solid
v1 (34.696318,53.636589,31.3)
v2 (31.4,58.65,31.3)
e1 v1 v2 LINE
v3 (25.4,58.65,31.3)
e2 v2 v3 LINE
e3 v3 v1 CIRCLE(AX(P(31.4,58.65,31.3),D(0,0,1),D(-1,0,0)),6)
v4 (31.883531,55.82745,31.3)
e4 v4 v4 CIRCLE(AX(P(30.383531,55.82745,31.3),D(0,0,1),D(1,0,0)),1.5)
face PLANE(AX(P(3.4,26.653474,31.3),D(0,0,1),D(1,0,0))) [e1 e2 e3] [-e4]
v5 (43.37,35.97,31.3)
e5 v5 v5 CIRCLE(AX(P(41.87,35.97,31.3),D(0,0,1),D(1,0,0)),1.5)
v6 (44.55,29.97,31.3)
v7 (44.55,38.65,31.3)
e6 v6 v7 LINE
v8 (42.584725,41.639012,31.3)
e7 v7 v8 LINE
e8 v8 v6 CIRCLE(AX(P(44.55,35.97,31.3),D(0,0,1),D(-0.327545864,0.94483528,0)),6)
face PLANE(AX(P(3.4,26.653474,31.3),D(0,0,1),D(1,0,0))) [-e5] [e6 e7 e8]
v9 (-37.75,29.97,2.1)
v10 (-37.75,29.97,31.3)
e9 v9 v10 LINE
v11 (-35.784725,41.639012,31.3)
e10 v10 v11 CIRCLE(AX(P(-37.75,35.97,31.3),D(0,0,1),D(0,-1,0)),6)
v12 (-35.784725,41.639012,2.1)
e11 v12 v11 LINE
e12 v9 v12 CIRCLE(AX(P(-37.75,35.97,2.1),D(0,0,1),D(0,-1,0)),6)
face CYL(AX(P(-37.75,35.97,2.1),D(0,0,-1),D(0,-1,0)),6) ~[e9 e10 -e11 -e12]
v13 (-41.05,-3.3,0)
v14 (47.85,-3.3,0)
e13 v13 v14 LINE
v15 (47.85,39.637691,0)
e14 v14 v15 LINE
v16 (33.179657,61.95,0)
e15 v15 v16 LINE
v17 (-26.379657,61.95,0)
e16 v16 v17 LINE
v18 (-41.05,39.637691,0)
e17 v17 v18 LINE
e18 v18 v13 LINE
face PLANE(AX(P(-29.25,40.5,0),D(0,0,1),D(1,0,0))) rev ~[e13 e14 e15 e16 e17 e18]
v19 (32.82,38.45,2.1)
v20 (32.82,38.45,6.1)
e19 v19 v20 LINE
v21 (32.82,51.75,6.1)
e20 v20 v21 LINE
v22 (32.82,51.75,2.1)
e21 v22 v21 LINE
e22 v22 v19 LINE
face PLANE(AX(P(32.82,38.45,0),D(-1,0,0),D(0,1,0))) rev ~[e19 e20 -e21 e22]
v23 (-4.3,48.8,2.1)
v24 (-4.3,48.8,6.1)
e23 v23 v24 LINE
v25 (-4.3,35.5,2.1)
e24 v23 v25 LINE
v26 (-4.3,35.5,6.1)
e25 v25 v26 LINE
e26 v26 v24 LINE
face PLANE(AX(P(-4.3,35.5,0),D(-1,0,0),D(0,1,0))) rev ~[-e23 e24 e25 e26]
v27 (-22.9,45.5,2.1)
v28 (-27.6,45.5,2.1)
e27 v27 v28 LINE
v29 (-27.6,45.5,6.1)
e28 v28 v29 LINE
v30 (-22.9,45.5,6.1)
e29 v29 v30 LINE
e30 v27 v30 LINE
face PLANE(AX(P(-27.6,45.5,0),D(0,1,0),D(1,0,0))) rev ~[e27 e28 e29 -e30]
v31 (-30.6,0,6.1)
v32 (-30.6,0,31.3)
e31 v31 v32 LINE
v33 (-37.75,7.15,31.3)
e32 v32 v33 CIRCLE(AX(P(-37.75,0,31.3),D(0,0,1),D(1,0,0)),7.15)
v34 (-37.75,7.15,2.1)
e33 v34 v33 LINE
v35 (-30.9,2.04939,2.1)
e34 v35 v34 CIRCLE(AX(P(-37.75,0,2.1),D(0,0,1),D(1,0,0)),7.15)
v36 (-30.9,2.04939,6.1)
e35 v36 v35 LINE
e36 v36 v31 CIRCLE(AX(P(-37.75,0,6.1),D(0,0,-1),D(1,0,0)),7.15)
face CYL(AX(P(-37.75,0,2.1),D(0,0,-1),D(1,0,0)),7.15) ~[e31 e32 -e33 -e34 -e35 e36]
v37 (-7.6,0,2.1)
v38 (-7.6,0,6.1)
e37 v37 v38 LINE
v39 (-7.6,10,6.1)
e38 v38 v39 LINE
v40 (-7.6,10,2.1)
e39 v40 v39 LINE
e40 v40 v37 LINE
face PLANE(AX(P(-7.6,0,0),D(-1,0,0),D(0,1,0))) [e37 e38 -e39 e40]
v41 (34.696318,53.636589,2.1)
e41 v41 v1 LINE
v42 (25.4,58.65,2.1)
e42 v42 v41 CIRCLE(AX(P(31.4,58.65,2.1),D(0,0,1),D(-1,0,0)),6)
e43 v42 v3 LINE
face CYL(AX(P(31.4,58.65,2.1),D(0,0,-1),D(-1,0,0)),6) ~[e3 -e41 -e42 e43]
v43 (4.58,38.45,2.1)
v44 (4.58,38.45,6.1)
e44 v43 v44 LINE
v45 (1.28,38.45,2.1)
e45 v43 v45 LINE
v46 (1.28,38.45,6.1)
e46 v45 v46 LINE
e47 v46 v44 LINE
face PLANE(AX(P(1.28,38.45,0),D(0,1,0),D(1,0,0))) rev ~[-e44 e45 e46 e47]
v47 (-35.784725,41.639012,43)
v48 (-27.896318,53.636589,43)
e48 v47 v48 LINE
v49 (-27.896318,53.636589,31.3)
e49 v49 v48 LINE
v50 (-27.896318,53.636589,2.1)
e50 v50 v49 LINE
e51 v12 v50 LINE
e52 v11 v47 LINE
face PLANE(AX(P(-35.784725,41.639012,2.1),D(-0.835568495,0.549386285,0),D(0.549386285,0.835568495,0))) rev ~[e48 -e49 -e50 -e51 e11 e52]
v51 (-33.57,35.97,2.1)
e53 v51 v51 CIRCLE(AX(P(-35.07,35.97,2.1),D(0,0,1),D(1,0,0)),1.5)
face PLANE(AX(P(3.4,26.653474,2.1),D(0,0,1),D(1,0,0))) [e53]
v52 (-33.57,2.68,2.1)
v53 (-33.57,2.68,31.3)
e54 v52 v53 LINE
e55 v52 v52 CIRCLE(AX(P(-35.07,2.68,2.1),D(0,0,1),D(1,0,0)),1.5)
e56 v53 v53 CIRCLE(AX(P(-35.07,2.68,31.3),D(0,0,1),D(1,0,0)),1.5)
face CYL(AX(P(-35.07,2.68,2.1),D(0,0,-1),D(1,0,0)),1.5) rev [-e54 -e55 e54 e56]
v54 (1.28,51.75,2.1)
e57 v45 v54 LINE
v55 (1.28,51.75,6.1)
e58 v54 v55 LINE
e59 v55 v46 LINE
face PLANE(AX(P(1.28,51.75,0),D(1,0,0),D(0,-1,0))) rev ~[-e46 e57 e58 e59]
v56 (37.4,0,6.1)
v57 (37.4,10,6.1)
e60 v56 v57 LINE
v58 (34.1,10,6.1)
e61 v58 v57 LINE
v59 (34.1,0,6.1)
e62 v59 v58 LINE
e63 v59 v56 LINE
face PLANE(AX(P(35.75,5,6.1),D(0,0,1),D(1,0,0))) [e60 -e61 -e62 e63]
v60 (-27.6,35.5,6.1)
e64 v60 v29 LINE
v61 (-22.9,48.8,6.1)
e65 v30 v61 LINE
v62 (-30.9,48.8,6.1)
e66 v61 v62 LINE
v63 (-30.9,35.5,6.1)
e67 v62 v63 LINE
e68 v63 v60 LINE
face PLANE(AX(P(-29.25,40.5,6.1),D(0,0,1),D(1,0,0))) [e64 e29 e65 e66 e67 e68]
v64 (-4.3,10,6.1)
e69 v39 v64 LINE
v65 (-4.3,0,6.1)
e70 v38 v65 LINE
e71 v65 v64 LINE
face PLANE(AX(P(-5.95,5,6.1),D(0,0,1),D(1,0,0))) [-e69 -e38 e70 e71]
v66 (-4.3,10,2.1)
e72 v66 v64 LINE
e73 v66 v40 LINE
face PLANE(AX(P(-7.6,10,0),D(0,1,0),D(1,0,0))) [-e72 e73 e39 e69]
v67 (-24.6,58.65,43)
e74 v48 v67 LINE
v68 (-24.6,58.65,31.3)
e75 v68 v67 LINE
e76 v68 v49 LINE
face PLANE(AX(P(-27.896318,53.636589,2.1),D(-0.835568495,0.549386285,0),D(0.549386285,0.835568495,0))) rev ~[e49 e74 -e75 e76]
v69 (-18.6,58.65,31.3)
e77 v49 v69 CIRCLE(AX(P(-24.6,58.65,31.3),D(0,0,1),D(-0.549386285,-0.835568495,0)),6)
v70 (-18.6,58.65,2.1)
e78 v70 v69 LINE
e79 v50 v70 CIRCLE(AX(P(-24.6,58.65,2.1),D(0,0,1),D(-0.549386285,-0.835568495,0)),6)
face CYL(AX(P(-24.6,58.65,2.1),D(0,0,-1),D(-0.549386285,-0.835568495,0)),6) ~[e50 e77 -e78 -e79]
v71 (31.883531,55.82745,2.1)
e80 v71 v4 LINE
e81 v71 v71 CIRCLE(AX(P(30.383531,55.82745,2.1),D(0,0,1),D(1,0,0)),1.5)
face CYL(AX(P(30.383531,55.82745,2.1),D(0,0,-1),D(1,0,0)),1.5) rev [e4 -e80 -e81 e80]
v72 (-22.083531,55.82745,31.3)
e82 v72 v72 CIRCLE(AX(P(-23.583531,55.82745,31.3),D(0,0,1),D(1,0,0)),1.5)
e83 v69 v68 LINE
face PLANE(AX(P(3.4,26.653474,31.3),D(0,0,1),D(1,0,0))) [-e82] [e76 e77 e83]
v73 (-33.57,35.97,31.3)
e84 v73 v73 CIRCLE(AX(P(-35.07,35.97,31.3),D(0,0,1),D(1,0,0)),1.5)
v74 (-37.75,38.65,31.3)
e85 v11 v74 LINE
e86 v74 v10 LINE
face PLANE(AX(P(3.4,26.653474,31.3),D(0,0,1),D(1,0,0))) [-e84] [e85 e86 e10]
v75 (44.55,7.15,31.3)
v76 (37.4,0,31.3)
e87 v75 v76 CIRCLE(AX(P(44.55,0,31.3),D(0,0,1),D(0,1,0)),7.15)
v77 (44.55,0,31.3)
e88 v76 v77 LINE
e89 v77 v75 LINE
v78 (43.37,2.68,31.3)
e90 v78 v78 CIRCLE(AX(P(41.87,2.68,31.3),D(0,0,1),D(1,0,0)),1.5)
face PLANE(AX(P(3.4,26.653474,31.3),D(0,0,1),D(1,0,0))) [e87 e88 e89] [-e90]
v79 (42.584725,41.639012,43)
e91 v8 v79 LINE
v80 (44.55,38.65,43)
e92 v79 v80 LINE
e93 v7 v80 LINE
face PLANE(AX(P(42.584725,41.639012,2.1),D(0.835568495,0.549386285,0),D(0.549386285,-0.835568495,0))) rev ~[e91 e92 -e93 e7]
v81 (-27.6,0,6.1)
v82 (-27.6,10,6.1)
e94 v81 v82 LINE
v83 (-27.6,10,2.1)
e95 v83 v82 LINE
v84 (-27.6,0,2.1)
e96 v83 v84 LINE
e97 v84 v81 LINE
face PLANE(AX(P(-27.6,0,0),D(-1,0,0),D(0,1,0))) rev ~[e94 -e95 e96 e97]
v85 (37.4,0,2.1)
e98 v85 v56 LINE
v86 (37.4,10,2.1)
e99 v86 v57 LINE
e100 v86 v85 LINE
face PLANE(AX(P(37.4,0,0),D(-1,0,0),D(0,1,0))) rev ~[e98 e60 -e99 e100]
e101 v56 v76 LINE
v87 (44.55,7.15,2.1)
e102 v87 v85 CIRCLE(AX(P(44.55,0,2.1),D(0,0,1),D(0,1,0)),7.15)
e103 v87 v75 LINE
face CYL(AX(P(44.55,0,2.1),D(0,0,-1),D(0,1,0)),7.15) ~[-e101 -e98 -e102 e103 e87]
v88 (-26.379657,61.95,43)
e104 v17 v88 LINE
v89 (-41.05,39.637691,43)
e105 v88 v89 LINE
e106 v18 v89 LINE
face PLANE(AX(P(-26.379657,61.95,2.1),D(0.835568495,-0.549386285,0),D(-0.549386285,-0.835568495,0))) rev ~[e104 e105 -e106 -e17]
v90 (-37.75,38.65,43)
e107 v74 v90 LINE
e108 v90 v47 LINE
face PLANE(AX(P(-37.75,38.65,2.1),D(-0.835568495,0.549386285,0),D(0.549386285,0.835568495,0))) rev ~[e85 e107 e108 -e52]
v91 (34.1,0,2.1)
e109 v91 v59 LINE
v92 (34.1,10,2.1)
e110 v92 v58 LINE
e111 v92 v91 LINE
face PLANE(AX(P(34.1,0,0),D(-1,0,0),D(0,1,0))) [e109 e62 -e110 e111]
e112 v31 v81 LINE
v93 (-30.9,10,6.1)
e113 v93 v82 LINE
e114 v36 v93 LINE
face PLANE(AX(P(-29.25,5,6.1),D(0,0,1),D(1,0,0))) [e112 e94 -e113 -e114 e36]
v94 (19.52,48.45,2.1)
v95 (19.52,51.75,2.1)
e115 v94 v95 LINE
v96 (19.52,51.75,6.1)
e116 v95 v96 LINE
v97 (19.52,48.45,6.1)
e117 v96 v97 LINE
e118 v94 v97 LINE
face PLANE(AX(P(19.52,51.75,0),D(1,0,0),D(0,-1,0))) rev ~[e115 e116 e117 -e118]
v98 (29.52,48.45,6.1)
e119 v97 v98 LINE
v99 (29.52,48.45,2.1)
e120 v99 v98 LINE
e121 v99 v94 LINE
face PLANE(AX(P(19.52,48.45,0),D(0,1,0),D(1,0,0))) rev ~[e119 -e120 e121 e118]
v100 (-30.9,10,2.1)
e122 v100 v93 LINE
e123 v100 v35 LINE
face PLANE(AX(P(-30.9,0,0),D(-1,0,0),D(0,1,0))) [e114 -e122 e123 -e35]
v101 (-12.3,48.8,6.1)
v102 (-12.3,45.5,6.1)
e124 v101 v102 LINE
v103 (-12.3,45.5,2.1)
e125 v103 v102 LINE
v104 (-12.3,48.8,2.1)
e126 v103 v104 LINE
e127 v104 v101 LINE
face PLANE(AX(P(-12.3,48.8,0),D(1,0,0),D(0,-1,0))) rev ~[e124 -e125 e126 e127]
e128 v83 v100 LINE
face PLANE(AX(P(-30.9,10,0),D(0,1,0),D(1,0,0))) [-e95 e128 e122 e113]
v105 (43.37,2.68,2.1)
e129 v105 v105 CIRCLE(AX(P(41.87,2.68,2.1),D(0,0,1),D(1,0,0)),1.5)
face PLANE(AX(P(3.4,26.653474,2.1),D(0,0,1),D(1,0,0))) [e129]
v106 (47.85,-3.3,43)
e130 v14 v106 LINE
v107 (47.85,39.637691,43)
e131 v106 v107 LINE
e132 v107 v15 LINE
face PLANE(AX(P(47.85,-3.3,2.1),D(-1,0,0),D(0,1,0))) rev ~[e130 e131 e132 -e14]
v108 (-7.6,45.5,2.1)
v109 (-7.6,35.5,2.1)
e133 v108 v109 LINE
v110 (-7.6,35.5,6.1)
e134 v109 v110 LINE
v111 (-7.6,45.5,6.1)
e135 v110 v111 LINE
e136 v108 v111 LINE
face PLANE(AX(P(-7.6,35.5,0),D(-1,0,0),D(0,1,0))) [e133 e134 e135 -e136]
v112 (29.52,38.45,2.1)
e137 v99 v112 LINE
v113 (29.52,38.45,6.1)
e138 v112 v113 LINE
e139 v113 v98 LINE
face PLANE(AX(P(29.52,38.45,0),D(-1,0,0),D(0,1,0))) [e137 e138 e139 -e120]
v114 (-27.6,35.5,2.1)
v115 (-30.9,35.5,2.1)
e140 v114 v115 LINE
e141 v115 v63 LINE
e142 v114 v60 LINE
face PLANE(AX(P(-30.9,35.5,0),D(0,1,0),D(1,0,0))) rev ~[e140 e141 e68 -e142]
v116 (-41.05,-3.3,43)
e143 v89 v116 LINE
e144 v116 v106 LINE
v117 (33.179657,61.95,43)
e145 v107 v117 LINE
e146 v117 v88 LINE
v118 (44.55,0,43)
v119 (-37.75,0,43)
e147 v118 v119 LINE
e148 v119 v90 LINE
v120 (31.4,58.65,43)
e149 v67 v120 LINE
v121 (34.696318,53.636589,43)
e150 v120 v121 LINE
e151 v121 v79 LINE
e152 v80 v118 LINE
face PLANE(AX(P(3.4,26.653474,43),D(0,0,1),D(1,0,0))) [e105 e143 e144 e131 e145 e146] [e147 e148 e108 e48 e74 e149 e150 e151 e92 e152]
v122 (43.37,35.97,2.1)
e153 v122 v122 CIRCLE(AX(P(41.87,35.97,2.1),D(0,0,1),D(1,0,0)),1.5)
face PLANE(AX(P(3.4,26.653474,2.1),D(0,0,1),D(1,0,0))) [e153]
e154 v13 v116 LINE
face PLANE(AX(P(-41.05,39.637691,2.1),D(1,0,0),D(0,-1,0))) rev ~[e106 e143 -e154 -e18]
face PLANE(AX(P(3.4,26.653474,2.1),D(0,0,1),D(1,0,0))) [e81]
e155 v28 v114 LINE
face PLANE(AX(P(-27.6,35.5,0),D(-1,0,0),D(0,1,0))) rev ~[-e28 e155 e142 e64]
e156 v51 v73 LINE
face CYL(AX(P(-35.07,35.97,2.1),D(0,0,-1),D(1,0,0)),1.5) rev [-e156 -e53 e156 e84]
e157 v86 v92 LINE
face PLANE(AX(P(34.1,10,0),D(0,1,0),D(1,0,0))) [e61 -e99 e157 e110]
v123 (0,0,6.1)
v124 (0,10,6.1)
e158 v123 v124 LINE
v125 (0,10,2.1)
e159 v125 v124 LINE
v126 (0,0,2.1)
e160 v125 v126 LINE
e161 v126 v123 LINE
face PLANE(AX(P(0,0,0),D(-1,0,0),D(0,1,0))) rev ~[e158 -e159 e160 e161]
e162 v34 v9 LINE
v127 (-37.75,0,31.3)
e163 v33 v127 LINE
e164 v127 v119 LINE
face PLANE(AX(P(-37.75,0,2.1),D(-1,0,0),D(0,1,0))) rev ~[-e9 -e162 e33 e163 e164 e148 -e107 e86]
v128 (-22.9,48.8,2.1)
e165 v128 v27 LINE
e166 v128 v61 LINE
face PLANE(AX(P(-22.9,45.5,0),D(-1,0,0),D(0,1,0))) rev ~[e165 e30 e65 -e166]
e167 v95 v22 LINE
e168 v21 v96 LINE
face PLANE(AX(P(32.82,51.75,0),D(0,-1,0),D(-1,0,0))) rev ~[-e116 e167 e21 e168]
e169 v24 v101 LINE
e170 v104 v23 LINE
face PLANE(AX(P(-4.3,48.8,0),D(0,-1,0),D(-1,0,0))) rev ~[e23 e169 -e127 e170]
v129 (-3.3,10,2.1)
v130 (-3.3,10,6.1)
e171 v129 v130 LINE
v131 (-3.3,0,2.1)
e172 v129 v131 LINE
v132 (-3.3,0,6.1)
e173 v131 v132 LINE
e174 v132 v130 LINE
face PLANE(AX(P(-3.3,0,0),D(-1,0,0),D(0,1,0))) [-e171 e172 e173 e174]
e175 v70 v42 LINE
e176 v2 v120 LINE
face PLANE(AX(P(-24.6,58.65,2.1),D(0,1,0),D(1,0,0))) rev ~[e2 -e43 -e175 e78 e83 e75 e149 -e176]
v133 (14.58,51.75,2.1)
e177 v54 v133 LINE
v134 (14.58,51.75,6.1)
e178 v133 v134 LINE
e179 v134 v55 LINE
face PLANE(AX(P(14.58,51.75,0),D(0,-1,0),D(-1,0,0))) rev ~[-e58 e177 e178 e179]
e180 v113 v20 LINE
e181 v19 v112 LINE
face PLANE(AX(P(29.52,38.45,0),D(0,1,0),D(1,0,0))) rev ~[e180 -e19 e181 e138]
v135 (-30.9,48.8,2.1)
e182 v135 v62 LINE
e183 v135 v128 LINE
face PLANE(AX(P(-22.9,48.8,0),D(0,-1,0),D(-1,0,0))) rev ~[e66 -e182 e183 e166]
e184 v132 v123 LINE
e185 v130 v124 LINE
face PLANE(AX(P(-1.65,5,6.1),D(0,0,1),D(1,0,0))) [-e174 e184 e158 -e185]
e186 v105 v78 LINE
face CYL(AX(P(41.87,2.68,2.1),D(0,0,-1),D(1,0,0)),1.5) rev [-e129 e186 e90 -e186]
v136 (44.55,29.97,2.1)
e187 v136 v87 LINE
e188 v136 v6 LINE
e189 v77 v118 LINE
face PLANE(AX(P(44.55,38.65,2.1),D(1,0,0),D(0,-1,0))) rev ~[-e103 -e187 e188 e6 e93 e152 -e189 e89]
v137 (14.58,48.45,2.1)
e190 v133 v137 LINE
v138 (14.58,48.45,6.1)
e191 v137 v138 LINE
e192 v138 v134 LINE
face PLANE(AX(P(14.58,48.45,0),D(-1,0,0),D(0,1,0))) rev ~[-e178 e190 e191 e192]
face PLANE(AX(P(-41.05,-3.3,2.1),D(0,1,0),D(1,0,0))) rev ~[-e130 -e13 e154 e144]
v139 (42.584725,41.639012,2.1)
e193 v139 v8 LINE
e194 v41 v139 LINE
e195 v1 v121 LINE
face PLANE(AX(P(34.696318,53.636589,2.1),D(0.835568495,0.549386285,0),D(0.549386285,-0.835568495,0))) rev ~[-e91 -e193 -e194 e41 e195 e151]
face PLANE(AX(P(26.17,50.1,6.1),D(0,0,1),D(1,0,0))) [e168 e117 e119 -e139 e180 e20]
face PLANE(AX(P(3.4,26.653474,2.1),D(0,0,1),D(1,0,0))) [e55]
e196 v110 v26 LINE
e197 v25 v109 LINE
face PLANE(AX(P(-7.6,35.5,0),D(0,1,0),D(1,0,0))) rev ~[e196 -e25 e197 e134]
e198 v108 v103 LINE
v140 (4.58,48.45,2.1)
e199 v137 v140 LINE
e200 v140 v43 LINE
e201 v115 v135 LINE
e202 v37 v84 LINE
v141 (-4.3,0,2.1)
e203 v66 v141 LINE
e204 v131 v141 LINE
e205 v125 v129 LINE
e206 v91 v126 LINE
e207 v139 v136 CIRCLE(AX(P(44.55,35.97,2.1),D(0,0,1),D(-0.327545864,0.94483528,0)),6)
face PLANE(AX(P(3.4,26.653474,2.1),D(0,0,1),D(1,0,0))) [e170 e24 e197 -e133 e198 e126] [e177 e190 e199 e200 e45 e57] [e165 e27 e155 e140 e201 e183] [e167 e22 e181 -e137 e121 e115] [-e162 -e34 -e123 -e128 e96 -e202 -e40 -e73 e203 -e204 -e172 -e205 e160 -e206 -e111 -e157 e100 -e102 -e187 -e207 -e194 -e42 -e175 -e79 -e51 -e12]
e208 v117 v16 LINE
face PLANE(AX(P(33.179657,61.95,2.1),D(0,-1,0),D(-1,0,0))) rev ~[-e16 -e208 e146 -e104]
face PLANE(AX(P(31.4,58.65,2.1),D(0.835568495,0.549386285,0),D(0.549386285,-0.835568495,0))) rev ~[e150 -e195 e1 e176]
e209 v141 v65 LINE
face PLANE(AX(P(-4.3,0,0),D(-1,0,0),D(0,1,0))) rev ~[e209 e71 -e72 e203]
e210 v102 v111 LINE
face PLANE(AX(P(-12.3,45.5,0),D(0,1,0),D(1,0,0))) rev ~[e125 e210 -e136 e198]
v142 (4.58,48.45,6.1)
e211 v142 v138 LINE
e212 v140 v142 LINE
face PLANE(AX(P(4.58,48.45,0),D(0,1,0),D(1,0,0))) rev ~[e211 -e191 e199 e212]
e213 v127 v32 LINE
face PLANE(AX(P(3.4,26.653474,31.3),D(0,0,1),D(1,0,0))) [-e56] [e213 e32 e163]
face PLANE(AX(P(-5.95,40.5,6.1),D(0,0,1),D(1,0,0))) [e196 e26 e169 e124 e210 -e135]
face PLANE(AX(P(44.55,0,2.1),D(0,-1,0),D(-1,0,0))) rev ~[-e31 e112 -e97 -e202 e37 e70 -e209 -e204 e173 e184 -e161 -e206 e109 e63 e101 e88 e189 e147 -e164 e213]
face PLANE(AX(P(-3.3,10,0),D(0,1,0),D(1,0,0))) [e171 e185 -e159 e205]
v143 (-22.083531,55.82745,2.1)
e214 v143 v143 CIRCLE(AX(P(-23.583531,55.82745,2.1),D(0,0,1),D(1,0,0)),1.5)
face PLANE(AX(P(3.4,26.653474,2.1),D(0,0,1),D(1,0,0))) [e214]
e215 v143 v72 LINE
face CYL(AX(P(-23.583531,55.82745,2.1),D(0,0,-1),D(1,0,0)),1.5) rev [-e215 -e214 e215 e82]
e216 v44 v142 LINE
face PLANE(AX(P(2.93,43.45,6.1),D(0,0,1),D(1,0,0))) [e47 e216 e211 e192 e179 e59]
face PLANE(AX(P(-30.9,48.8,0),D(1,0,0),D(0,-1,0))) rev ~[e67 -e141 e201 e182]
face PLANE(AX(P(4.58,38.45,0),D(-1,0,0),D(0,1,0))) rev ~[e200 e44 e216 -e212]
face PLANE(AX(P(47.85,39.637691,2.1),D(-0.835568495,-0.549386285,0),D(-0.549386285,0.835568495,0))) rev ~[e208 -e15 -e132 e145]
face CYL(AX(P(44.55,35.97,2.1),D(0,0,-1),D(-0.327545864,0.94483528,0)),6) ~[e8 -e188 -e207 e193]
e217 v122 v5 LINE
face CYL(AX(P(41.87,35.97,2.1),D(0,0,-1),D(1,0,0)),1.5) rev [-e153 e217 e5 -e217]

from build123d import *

# Parameters (mm, degrees)
F6_R      = 1.5
F7_DEPTH  = 29.2
F4_R      = 1.5
F8_DEPTH  = 2.1
F1_W      = 3.3
F1_H      = 10
F0_W      = 3.3
F0_H      = 10
F9_DEPTH  = 6.1
F10_DEPTH = 40.9


with BuildPart() as f7:
    # F6 (on offset) → F7 (new body)
    with BuildSketch(Plane.XY.offset(2.1)):
        Polygon((33.1796569254, 61.95), (2.5, 61.95), (-26.3796569254, 61.95), (-41.05, 39.6376911413), (-41.05, -3.3), (47.85, -3.3), (47.85, 39.6376911413), align=None)
        Polygon((44.55, 29.97), (44.55, 7.15), (44.55, 0), (37.4, 0), (-30.6, 0), (-37.75, 0), (-37.75, 7.15), (-37.75, 29.97), (-37.75, 38.65), (-35.7847248185, 41.6390116829), (-27.896317712, 53.6365890312), (-24.6, 58.65), (-18.6, 58.65), (3.4, 58.65), (25.4, 58.65), (31.4, 58.65), (34.696317712, 53.6365890312), (42.5847248185, 41.6390116829), (44.55, 38.65), (44.55, 36.9490727423), align=None, mode=Mode.SUBTRACT)
        with BuildLine():
            ThreePointArc((42.5847248185, 41.6390116829), (38.6333256766, 34.9735237327), (44.55, 29.97))
            Line((44.55, 29.97), (44.55, 36.9490727423))
            Line((44.55, 36.9490727423), (44.55, 38.65))
            Line((44.55, 38.65), (42.5847248185, 41.6390116829))
        make_face()
        with Locations((41.87, 35.97)):
            Circle(F6_R, mode=Mode.SUBTRACT)
        with BuildLine():
            Line((-37.75, 38.65), (-37.75, 29.97))
            ThreePointArc((-37.75, 29.97), (-31.8333256766, 34.9735237327), (-35.7847248185, 41.6390116829))
            Line((-35.7847248185, 41.6390116829), (-37.75, 38.65))
        make_face()
        with Locations((-35.07, 35.97)):
            Circle(F6_R, mode=Mode.SUBTRACT)
        with BuildLine():
            Line((44.55, 0), (44.55, 7.15))
            ThreePointArc((44.55, 7.15), (39.4941865145, 5.0558134855), (37.4, 0))
            Line((37.4, 0), (44.55, 0))
        make_face()
        with Locations((41.87, 2.68)):
            Circle(F6_R, mode=Mode.SUBTRACT)
        with BuildLine():
            Line((-37.75, 0), (-30.6, 0))
            ThreePointArc((-30.6, 0), (-32.6941865145, 5.0558134855), (-37.75, 7.15))
            Line((-37.75, 7.15), (-37.75, 0))
        make_face()
        with Locations((-35.07, 2.68)):
            Circle(F6_R, mode=Mode.SUBTRACT)
        with BuildLine():
            ThreePointArc((25.4, 58.65), (28.5520100309, 53.3690007446), (34.696317712, 53.6365890312))
            Line((34.696317712, 53.6365890312), (31.4, 58.65))
            Line((31.4, 58.65), (25.4, 58.65))
        make_face()
        with Locations((30.3835309261, 55.8274496246)):
            Circle(F6_R, mode=Mode.SUBTRACT)
        with BuildLine():
            Line((-24.6, 58.65), (-27.896317712, 53.6365890312))
            ThreePointArc((-27.896317712, 53.6365890312), (-21.7520100309, 53.3690007446), (-18.6, 58.65))
            Line((-18.6, 58.65), (-24.6, 58.65))
        make_face()
        with Locations((-23.5835309261, 55.8274496246)):
            Circle(F6_R, mode=Mode.SUBTRACT)
    extrude(amount=F7_DEPTH)



with BuildPart() as f8:
    # F4 (on Top) → F8 (new body)
    with BuildSketch(Plane.XY):
        Polygon((33.1796569254, 61.95), (2.5, 61.95), (-26.3796569254, 61.95), (-41.05, 39.6376911413), (-41.05, -3.3), (47.85, -3.3), (47.85, 39.6376911413), align=None)
        with BuildLine():
            Line((44.55, 7.15), (44.55, 0))
            Line((44.55, 0), (37.4, 0))
            Line((37.4, 0), (-30.6, 0))
            Line((-30.6, 0), (-37.75, 0))
            Line((-37.75, 0), (-37.75, 7.15))
            Line((-37.75, 7.15), (-37.75, 29.97))
            Line((-37.75, 29.97), (-37.75, 38.65))
            Line((-37.75, 38.65), (-35.7847248185, 41.6390116829))
            Line((-35.7847248185, 41.6390116829), (-27.896317712, 53.6365890312))
            Line((-27.896317712, 53.6365890312), (-24.6, 58.65))
            Line((-24.6, 58.65), (-18.6, 58.65))
            Line((-18.6, 58.65), (3.4, 58.65))
            Line((3.4, 58.65), (25.4, 58.65))
            Line((25.4, 58.65), (31.4, 58.65))
            Line((31.4, 58.65), (34.696317712, 53.6365890312))
            Line((34.696317712, 53.6365890312), (42.5847248185, 41.6390116829))
            ThreePointArc((42.5847248185, 41.6390116829), (38.6333256766, 34.9735237327), (44.55, 29.97))
            Line((44.55, 29.97), (44.55, 7.15))
        make_face(mode=Mode.SUBTRACT)
        with BuildLine():
            Line((-30.6, 0), (37.4, 0))
            ThreePointArc((37.4, 0), (39.4941865145, 5.0558134855), (44.55, 7.15))
            Line((44.55, 7.15), (44.55, 29.97))
            ThreePointArc((44.55, 29.97), (38.6333256766, 34.9735237327), (42.5847248185, 41.6390116829))
            Line((42.5847248185, 41.6390116829), (34.696317712, 53.6365890312))
            ThreePointArc((34.696317712, 53.6365890312), (28.5520100309, 53.3690007446), (25.4, 58.65))
            Line((25.4, 58.65), (3.4, 58.65))
            Line((3.4, 58.65), (-18.6, 58.65))
            ThreePointArc((-18.6, 58.65), (-21.7520100309, 53.3690007446), (-27.896317712, 53.6365890312))
            Line((-27.896317712, 53.6365890312), (-35.7847248185, 41.6390116829))
            ThreePointArc((-35.7847248185, 41.6390116829), (-31.8333256766, 34.9735237327), (-37.75, 29.97))
            Line((-37.75, 29.97), (-37.75, 7.15))
            ThreePointArc((-37.75, 7.15), (-32.6941865145, 5.0558134855), (-30.6, 0))
        make_face()
        with BuildLine():
            Line((-37.75, 38.65), (-37.75, 29.97))
            ThreePointArc((-37.75, 29.97), (-31.8333256766, 34.9735237327), (-35.7847248185, 41.6390116829))
            Line((-35.7847248185, 41.6390116829), (-37.75, 38.65))
        make_face()
        with BuildLine():
            Line((-37.75, 0), (-30.6, 0))
            ThreePointArc((-30.6, 0), (-32.6941865145, 5.0558134855), (-37.75, 7.15))
            Line((-37.75, 7.15), (-37.75, 0))
        make_face()
        with BuildLine():
            Line((37.4, 0), (44.55, 0))
            Line((44.55, 0), (44.55, 7.15))
            ThreePointArc((44.55, 7.15), (39.4941865145, 5.0558134855), (37.4, 0))
        make_face()
        with BuildLine():
            ThreePointArc((25.4, 58.65), (28.5520100309, 53.3690007446), (34.696317712, 53.6365890312))
            Line((34.696317712, 53.6365890312), (31.4, 58.65))
            Line((31.4, 58.65), (25.4, 58.65))
        make_face()
        with Locations((30.3835309261, 55.8274496246)):
            Circle(F4_R, mode=Mode.SUBTRACT)
        with BuildLine():
            Line((-24.6, 58.65), (-27.896317712, 53.6365890312))
            ThreePointArc((-27.896317712, 53.6365890312), (-21.7520100309, 53.3690007446), (-18.6, 58.65))
            Line((-18.6, 58.65), (-24.6, 58.65))
        make_face()
        with Locations((-23.5835309261, 55.8274496246)):
            Circle(F4_R, mode=Mode.SUBTRACT)
        with Locations((30.3835309261, 55.8274496246)):
            Circle(F4_R)
        with Locations((-23.5835309261, 55.8274496246)):
            Circle(F4_R)
    extrude(amount=F8_DEPTH)


with BuildPart() as f7_1:
    add(f7.part)

    add(f8.part)  # F9 merges F8
    # F1 (on Top) + F0 (on Top) → F9 (join)
    with BuildSketch(Plane.XY):
        with Locations((-29.25, 40.5)):
            Rectangle(F1_W, F1_H)
        Polygon((-30.9, 45.5), (-27.6, 45.5), (-22.9, 45.5), (-22.9, 48.8), (-30.9, 48.8), align=None)
        with Locations((-29.25, 5)):
            Rectangle(F1_W, F1_H)
        with Locations((-5.95, 5)):
            Rectangle(F1_W, F1_H)
        with Locations((-5.95, 40.5)):
            Rectangle(F1_W, F1_H)
        Polygon((-12.3, 45.5), (-7.6, 45.5), (-4.3, 45.5), (-4.3, 48.8), (-12.3, 48.8), align=None)
    with BuildSketch(Plane.XY):
        with Locations((-1.65, 5)):
            Rectangle(F0_W, F0_H)
        with Locations((2.93, 43.45)):
            Rectangle(F0_W, F0_H)
        Polygon((1.28, 48.45), (4.58, 48.45), (14.58, 48.45), (14.58, 51.75), (1.28, 51.75), align=None)
        Polygon((19.52, 51.75), (19.52, 48.45), (29.52, 48.45), (32.82, 48.45), (32.82, 51.75), align=None)
        with Locations((31.17, 43.45)):
            Rectangle(F0_W, F0_H)
        with Locations((35.75, 5)):
            Rectangle(F0_W, F0_H)
    extrude(amount=F9_DEPTH)

    # F6 (on offset) → F10 (join)
    with BuildSketch(Plane.XY.offset(2.1)):
        Polygon((33.1796569254, 61.95), (2.5, 61.95), (-26.3796569254, 61.95), (-41.05, 39.6376911413), (-41.05, -3.3), (47.85, -3.3), (47.85, 39.6376911413), align=None)
        Polygon((44.55, 29.97), (44.55, 7.15), (44.55, 0), (37.4, 0), (-30.6, 0), (-37.75, 0), (-37.75, 7.15), (-37.75, 29.97), (-37.75, 38.65), (-35.7847248185, 41.6390116829), (-27.896317712, 53.6365890312), (-24.6, 58.65), (-18.6, 58.65), (3.4, 58.65), (25.4, 58.65), (31.4, 58.65), (34.696317712, 53.6365890312), (42.5847248185, 41.6390116829), (44.55, 38.65), (44.55, 36.9490727423), align=None, mode=Mode.SUBTRACT)
    extrude(amount=F10_DEPTH)


solid = f7_1.part
